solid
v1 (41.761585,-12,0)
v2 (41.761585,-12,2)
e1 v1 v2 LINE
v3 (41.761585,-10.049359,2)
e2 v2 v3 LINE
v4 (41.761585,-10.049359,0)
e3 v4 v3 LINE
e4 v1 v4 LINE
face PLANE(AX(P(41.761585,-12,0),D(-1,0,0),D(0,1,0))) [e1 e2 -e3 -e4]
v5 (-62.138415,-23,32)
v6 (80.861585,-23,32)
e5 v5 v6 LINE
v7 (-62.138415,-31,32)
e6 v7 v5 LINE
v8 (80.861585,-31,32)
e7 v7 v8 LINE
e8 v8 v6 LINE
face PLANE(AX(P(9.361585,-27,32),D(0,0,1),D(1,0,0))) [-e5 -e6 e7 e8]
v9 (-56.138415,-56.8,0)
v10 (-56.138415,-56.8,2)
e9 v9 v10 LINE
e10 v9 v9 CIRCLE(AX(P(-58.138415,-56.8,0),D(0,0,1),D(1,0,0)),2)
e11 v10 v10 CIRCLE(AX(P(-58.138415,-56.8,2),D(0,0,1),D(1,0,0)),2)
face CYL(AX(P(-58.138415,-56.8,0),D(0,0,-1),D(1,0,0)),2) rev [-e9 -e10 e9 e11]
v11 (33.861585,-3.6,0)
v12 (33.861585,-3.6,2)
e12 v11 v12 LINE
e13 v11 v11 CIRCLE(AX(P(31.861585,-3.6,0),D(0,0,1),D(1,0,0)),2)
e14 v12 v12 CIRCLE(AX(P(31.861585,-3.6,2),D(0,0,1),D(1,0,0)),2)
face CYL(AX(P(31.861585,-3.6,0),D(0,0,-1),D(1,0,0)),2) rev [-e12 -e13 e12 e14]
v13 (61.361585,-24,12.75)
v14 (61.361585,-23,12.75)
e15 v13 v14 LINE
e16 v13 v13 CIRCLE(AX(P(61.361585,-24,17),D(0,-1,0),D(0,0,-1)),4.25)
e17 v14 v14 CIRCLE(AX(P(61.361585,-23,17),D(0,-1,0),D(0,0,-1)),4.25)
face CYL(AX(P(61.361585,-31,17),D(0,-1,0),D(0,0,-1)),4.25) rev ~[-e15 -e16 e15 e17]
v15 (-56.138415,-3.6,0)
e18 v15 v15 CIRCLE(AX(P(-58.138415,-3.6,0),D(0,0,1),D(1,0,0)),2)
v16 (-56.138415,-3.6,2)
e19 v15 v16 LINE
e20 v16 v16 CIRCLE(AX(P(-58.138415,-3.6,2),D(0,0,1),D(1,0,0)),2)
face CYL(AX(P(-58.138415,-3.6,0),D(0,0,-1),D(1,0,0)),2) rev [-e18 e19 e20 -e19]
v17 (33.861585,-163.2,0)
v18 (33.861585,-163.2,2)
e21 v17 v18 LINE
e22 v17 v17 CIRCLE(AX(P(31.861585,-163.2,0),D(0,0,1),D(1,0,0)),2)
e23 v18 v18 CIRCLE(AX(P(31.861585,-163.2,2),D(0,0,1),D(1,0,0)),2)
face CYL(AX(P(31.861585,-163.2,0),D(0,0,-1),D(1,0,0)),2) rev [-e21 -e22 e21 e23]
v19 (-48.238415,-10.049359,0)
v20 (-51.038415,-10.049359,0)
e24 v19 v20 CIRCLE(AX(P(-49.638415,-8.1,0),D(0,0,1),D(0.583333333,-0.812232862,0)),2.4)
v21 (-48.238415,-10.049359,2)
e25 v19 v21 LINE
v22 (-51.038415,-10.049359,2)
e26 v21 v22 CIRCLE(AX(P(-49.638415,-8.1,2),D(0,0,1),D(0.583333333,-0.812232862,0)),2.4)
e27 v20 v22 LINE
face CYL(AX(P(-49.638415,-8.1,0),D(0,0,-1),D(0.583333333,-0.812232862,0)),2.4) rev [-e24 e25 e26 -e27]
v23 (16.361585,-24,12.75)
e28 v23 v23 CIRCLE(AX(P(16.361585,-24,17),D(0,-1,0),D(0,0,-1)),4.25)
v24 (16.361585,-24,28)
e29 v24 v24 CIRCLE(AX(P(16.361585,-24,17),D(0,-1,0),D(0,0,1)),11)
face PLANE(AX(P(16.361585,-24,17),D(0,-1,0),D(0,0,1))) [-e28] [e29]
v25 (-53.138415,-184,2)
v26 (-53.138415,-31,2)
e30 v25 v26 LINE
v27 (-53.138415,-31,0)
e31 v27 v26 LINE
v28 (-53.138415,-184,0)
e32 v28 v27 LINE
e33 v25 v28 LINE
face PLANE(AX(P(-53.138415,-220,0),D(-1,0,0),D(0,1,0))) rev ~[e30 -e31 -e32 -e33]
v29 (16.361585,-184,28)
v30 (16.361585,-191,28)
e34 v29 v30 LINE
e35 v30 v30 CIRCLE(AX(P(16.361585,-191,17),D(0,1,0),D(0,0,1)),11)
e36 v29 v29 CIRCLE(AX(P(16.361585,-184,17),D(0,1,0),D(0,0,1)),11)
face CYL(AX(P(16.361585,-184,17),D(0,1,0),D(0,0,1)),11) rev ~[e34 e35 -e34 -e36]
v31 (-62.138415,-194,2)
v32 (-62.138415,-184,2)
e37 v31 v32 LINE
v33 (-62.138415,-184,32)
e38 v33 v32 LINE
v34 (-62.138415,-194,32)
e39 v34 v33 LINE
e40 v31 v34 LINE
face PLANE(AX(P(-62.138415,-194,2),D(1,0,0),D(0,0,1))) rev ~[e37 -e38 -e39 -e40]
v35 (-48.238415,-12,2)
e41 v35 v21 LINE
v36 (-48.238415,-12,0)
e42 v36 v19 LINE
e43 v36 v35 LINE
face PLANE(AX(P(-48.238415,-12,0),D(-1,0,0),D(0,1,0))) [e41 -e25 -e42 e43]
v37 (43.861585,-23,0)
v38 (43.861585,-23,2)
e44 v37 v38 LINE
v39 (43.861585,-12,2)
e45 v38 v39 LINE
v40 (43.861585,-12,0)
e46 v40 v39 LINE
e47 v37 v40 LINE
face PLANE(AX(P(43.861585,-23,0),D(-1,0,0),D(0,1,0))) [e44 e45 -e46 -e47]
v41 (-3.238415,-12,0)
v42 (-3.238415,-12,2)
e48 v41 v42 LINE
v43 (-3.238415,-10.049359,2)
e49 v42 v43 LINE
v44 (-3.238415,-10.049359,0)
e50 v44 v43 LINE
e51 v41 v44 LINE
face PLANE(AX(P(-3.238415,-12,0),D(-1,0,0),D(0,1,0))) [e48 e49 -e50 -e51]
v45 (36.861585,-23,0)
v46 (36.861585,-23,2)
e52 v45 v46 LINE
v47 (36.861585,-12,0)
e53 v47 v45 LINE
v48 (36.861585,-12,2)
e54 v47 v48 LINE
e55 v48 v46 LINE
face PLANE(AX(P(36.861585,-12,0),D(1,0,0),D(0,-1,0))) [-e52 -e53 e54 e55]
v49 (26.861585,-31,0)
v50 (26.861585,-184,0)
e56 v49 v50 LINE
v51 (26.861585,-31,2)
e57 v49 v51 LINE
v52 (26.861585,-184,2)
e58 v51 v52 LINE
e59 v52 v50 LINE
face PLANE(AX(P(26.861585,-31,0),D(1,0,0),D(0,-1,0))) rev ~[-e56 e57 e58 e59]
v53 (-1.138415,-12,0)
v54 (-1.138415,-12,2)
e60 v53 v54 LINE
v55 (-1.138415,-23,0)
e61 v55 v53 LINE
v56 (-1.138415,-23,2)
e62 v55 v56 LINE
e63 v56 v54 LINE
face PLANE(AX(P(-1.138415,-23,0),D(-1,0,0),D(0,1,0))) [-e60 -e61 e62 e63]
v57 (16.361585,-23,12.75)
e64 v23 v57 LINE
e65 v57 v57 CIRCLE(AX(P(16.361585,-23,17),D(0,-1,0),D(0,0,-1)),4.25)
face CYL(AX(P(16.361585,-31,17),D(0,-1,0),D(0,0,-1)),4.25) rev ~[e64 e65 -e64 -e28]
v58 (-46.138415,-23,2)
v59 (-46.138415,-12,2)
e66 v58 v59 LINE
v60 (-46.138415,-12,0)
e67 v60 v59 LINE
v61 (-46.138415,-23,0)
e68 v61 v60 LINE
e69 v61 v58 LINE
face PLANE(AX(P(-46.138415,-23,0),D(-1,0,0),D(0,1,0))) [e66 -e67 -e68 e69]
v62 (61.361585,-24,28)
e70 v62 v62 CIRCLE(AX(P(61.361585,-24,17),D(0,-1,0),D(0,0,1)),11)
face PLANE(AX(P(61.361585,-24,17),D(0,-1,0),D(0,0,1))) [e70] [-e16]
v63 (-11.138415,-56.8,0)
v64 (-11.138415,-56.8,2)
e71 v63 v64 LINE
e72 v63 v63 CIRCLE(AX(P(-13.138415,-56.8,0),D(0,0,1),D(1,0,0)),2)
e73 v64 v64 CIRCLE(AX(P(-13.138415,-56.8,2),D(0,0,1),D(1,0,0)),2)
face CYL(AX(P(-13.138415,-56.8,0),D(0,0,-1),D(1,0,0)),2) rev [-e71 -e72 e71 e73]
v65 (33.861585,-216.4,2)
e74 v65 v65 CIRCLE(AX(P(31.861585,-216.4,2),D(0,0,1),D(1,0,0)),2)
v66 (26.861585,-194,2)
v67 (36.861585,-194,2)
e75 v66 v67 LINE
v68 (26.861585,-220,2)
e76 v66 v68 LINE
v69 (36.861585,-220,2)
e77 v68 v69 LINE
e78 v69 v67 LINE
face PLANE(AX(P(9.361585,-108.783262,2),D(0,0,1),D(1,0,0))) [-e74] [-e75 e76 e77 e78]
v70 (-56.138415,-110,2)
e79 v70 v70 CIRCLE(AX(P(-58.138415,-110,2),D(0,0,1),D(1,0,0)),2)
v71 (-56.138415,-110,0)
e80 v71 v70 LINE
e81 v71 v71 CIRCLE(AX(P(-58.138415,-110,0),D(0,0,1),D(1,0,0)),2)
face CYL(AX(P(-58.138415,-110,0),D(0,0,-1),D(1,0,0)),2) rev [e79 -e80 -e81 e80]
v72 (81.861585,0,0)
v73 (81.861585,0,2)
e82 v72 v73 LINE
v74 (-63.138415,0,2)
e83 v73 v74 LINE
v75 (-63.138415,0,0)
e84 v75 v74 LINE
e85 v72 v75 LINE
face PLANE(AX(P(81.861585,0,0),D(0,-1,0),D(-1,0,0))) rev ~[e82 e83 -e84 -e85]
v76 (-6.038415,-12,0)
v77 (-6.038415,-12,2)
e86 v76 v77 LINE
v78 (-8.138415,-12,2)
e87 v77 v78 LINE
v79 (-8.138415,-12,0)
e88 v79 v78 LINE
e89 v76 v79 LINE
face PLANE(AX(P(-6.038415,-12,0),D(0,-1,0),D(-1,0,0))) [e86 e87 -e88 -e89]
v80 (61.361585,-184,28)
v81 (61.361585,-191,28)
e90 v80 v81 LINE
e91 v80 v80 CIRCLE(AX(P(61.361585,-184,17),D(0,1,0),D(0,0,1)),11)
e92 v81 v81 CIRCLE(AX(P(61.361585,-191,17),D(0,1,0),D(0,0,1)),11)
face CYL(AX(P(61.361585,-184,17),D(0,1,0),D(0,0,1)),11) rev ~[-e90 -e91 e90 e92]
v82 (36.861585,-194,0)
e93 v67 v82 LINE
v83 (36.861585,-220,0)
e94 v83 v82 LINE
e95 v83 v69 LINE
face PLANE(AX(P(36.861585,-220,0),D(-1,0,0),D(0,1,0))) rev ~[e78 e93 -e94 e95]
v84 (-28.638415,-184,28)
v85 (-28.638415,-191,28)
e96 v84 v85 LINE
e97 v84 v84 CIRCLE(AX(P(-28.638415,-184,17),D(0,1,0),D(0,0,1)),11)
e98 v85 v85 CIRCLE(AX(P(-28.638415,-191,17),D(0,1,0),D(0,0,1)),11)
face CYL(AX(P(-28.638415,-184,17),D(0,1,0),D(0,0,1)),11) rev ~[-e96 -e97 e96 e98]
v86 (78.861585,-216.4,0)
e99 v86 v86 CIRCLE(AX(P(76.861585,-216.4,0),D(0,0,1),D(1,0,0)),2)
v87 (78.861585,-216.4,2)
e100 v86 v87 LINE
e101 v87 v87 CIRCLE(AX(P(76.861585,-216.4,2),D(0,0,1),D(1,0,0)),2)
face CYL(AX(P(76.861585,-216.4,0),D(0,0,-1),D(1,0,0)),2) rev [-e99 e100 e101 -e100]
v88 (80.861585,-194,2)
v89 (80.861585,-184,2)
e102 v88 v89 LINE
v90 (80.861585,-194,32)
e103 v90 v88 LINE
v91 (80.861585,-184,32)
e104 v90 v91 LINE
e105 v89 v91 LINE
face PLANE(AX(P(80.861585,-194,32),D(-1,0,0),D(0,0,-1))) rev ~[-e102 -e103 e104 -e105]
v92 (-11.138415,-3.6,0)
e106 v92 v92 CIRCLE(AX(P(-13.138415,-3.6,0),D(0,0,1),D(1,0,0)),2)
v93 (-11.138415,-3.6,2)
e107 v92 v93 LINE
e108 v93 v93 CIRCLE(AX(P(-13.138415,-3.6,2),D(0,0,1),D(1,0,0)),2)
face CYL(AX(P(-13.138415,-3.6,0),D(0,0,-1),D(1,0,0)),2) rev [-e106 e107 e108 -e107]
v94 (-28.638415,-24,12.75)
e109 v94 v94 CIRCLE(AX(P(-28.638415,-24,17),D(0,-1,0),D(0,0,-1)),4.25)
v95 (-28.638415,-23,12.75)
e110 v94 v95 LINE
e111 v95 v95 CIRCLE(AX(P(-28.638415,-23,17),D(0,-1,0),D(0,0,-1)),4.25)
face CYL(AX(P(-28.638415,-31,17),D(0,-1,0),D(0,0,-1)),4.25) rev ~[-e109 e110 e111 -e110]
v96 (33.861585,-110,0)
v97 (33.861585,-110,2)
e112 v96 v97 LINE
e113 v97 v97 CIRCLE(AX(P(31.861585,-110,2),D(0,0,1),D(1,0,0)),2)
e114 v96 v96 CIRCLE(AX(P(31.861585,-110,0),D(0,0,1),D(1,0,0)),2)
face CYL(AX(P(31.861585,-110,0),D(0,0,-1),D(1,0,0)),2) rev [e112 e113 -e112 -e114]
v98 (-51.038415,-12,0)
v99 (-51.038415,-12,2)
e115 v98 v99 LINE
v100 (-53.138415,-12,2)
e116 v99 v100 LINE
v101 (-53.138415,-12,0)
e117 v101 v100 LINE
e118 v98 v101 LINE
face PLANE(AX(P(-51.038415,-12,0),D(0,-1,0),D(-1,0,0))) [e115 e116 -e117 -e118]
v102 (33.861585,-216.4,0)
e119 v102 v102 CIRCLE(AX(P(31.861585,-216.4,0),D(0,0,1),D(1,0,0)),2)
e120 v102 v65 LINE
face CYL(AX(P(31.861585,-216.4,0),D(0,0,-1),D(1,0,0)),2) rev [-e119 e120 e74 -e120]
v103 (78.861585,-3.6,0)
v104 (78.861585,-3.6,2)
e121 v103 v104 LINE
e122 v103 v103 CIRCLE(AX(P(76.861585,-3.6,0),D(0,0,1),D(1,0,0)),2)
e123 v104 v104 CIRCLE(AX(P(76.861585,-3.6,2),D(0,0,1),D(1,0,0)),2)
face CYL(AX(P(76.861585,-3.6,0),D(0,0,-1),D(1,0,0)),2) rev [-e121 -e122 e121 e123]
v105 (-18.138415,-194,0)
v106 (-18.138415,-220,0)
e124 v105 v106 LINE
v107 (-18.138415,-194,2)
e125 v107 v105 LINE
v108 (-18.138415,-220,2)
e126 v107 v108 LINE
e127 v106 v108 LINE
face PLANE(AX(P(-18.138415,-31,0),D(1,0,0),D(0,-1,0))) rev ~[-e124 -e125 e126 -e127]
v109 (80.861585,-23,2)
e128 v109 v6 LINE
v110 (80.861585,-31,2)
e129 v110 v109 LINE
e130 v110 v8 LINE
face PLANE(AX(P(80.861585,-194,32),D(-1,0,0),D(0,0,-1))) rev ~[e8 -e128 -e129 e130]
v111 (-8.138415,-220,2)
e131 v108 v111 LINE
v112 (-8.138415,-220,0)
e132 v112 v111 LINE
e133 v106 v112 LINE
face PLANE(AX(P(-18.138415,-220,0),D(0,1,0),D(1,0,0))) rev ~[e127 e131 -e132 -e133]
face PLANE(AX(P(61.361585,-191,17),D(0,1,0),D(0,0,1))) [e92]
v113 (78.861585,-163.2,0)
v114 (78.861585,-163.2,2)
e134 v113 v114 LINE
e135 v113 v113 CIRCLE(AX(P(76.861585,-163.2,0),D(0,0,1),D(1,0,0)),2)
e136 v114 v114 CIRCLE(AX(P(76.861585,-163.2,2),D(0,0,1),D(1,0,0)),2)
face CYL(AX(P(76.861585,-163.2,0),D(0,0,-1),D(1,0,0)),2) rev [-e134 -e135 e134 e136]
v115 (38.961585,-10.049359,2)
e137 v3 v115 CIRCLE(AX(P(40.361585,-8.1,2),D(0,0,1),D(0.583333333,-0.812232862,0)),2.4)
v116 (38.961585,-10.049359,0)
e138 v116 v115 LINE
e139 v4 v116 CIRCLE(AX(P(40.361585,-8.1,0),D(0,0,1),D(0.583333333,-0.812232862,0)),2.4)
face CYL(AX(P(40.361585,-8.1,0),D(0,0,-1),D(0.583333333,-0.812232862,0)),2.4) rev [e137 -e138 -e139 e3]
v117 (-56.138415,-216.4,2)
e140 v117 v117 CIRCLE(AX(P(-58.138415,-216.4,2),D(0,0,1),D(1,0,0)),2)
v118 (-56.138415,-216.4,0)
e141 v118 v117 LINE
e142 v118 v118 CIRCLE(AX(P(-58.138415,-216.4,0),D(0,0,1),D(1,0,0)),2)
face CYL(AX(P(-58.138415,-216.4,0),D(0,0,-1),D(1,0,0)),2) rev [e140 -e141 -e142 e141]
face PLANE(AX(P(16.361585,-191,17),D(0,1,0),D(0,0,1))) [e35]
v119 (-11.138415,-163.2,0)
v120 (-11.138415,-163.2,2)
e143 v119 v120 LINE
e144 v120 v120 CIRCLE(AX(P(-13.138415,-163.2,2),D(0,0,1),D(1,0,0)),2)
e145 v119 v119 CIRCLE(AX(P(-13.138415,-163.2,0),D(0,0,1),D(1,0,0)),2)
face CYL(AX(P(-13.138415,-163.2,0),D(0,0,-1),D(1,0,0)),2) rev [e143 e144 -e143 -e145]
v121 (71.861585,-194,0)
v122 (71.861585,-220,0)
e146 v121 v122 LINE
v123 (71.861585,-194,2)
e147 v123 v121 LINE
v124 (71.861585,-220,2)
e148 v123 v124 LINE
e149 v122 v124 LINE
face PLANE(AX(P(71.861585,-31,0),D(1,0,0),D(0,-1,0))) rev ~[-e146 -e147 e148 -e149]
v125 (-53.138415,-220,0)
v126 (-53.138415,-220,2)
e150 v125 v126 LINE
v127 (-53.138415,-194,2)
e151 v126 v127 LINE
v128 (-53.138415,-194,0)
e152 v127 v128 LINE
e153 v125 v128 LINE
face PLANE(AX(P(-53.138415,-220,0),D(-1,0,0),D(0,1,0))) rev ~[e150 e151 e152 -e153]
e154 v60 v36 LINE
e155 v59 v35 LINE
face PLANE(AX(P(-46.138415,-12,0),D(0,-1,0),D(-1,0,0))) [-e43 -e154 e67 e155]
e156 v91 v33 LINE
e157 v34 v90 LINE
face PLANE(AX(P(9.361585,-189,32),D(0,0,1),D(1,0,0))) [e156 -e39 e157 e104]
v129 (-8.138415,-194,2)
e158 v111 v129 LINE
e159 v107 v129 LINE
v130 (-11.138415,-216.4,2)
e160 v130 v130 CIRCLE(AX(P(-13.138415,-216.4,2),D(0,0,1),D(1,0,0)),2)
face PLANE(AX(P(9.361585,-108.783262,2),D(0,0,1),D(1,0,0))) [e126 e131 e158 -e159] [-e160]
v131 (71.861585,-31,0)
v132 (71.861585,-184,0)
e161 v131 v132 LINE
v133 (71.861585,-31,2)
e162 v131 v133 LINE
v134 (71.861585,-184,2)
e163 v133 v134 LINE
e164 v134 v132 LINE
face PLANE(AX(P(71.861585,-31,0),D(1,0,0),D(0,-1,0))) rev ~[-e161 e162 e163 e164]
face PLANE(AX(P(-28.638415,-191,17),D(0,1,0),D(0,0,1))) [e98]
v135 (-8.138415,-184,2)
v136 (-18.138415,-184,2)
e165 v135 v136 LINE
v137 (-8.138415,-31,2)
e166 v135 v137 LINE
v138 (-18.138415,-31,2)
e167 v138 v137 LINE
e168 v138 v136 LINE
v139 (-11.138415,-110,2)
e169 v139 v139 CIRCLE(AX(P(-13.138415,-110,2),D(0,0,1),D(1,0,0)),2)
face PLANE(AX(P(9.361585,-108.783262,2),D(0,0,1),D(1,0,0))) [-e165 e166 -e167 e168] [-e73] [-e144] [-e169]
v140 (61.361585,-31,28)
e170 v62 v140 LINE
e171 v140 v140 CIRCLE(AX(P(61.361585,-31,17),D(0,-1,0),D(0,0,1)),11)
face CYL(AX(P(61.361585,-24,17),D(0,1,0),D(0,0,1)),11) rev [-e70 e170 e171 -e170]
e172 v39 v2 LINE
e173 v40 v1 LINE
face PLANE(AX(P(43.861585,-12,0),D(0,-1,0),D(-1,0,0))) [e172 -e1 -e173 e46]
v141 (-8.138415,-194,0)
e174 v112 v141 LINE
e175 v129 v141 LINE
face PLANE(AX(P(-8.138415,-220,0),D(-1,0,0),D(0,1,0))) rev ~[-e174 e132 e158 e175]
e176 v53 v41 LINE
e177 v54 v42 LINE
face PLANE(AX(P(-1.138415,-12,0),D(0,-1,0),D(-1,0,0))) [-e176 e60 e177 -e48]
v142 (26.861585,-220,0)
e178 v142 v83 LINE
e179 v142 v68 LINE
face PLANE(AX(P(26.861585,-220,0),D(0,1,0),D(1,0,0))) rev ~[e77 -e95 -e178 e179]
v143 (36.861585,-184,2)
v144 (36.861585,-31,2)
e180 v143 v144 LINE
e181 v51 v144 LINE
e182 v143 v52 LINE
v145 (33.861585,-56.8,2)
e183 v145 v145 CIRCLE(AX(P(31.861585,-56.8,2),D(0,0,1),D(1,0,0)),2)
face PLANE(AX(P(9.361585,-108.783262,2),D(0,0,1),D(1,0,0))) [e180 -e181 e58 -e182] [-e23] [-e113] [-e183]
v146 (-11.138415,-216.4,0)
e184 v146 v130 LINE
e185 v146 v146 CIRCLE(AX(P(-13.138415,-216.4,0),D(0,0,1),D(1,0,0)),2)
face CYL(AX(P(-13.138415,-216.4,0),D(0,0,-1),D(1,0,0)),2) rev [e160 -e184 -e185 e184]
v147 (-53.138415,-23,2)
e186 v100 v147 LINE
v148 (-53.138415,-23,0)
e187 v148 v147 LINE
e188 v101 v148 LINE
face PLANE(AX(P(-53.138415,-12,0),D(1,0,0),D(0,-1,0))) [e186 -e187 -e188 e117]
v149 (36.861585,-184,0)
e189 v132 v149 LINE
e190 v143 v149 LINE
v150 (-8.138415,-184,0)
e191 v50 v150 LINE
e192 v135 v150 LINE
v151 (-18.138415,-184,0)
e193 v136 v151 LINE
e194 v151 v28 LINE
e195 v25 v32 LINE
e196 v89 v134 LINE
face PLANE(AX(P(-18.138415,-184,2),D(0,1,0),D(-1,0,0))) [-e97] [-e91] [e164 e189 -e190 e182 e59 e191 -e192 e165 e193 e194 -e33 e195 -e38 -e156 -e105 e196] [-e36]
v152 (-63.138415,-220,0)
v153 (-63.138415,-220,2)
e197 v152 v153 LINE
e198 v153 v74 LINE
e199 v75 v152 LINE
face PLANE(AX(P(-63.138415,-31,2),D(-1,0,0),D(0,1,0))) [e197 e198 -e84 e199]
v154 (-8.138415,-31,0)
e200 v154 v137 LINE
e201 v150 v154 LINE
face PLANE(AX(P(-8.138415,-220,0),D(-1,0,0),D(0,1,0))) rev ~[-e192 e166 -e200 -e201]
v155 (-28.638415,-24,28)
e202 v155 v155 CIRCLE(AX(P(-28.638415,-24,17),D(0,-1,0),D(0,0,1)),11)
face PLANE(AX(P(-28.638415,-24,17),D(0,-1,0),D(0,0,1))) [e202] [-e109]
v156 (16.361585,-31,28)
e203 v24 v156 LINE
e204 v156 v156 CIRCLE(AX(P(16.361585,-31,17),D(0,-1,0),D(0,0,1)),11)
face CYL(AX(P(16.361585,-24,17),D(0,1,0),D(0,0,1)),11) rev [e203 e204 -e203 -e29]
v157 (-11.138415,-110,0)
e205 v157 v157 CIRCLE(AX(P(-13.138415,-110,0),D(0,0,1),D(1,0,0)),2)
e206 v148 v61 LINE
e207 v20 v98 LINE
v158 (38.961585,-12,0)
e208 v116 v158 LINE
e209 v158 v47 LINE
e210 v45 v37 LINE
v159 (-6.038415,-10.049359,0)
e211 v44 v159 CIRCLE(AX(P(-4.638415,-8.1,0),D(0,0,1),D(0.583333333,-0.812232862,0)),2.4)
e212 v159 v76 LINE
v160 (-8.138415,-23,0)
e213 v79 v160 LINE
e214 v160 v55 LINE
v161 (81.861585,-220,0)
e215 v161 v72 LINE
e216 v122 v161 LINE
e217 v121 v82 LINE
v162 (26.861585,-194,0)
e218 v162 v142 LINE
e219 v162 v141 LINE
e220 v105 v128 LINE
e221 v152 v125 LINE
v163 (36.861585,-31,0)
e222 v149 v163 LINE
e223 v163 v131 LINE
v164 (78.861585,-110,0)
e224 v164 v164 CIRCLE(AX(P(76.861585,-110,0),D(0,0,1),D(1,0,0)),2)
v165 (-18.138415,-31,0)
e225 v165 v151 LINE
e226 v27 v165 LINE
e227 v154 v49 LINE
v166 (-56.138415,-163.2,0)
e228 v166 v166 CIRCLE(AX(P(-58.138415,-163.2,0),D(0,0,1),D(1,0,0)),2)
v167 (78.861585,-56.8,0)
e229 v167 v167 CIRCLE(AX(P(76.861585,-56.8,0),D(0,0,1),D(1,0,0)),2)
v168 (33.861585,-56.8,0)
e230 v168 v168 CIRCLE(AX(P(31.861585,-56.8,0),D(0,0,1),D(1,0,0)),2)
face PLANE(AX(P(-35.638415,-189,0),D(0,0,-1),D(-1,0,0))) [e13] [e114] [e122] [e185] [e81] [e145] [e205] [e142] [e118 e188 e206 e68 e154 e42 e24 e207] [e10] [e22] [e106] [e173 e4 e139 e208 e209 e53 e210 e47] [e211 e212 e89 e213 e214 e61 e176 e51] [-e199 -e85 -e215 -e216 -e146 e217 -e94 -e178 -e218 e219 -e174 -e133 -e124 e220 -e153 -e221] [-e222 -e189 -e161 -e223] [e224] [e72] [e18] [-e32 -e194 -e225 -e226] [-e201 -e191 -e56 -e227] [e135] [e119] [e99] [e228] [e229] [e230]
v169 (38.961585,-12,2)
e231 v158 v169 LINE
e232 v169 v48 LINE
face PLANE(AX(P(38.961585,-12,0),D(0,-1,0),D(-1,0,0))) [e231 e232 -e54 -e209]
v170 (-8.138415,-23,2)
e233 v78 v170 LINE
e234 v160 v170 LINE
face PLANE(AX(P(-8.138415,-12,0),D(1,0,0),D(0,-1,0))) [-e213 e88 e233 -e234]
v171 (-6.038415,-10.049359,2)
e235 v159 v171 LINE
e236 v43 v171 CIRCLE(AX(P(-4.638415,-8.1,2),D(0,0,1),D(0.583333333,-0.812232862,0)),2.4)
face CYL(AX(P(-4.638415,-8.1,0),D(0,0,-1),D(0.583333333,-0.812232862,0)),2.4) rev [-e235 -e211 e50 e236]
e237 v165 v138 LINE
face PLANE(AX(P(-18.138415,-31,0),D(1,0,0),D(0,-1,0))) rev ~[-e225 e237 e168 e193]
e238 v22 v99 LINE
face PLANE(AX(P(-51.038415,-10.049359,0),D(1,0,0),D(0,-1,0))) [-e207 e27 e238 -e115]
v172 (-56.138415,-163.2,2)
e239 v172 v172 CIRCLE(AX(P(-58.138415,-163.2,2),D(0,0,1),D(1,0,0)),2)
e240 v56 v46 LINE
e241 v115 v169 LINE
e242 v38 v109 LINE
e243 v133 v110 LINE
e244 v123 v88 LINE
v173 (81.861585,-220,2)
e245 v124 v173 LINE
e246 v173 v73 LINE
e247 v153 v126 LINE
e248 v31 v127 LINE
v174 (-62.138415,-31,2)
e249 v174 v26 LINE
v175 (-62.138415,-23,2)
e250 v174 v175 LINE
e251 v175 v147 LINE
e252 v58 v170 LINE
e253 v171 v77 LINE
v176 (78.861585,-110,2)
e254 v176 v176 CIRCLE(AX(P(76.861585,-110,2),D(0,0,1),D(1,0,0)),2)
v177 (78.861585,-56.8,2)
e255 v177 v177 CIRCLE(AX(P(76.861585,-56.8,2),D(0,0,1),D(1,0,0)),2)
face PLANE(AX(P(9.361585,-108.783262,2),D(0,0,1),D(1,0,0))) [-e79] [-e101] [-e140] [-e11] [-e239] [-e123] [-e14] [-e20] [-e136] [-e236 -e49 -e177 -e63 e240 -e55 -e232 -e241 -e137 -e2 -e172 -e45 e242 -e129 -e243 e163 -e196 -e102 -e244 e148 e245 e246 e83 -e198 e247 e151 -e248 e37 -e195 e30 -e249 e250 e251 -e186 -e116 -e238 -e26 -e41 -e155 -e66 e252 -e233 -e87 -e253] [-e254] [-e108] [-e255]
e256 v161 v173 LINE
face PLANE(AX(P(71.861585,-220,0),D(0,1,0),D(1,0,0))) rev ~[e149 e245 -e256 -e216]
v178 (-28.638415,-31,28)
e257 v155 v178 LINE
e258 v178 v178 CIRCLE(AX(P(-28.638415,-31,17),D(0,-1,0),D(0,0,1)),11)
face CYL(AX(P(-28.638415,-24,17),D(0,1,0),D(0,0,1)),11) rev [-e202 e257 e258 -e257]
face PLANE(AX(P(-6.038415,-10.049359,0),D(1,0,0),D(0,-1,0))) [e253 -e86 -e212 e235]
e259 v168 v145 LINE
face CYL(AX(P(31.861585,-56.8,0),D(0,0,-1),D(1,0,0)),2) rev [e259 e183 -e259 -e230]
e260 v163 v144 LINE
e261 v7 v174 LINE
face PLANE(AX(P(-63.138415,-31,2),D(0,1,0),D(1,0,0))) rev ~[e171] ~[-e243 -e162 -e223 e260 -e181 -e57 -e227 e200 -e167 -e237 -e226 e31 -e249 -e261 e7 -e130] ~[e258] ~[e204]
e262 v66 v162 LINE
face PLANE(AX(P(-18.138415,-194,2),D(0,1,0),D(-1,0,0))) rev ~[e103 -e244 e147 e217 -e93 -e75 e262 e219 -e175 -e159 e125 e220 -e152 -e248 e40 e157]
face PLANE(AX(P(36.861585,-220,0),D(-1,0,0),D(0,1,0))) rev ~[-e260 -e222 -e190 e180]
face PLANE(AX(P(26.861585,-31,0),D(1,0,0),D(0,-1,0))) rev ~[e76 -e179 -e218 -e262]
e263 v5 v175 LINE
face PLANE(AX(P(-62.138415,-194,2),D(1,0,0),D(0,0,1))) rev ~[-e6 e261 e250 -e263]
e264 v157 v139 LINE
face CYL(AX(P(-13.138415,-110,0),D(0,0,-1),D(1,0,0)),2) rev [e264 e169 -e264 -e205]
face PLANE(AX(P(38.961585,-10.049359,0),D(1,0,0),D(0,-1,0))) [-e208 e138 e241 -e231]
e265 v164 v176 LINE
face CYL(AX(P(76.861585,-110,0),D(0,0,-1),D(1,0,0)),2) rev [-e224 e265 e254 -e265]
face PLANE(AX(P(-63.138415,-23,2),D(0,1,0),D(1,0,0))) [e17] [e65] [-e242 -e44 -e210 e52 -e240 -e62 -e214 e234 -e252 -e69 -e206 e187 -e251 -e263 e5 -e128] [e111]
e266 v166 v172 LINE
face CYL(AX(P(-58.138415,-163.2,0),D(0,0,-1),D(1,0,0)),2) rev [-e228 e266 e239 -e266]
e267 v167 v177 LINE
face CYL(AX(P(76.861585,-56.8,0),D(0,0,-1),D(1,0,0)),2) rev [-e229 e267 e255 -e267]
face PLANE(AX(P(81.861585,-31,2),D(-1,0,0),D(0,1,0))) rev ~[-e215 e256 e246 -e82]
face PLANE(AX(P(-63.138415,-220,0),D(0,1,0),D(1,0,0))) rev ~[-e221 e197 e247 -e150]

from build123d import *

# Parameters (mm, degrees)
SZKIC4_R                    = 2
DODANIE_WYCI_GNI_CIE1_DEPTH = 2
DODANIE_WYCI_GNI_CIE2_DEPTH = 30
SZKIC6_W                    = 35
SZKIC6_H                    = 10
DODANIE_WYCI_GNI_CIE3_DEPTH = 2
SZKIC7_R                    = 11
WYTNIJ_WYCI_GNI_CIE1_DEPTH  = 7
SZKIC7_4_R                  = 11
WYTNIJ_WYCI_GNI_CIE2_DEPTH  = 7
SZKIC7_5_R                  = 11
WYTNIJ_WYCI_GNI_CIE3_DEPTH  = 7
SZKIC12_W                   = 145
SZKIC12_H                   = 8
DODANIE_WYCI_GNI_CIE5_DEPTH = 30
SZKIC13_R                   = 4.25
WYTNIJ_WYCI_GNI_CIE9_DEPTH  = 59
WYTNIJ_WYCI_GNI_CIE10_START = -7
SZKIC13_3_R                 = 11
WYTNIJ_WYCI_GNI_CIE10_DEPTH = 7
WYTNIJ_WYCI_GNI_CIE11_DEPTH = 178


with BuildPart() as part:
    # Szkic4 → Dodanie-wyciągnięcie1 (new body)
    with BuildSketch(Plane.XY):
        Polygon((71.861585453, -220), (81.861585453, -220), (81.861585453, 0), (-63.138414547, 0), (-63.138414547, -220), (-53.138414547, -220), (-53.138414547, -31), (-18.138414547, -31), (-18.138414547, -220), (-8.138414547, -220), (-8.138414547, -31), (26.861585453, -31), (26.861585453, -220), (36.861585453, -220), (36.861585453, -31), (71.861585453, -31), align=None)
        with Locations((76.861585453, -3.6)):
            Circle(SZKIC4_R, mode=Mode.SUBTRACT)
        with Locations((31.861585453, -3.6)):
            Circle(SZKIC4_R, mode=Mode.SUBTRACT)
        with Locations((-13.138414547, -3.6)):
            Circle(SZKIC4_R, mode=Mode.SUBTRACT)
        with Locations((-58.138414547, -3.6)):
            Circle(SZKIC4_R, mode=Mode.SUBTRACT)
        with Locations((76.861585453, -56.8)):
            Circle(SZKIC4_R, mode=Mode.SUBTRACT)
        with Locations((31.861585453, -56.8)):
            Circle(SZKIC4_R, mode=Mode.SUBTRACT)
        with Locations((-13.138414547, -56.8)):
            Circle(SZKIC4_R, mode=Mode.SUBTRACT)
        with Locations((76.861585453, -110)):
            Circle(SZKIC4_R, mode=Mode.SUBTRACT)
        with Locations((31.861585453, -110)):
            Circle(SZKIC4_R, mode=Mode.SUBTRACT)
        with Locations((-13.138414547, -110)):
            Circle(SZKIC4_R, mode=Mode.SUBTRACT)
        with Locations((76.861585453, -163.2)):
            Circle(SZKIC4_R, mode=Mode.SUBTRACT)
        with Locations((31.861585453, -163.2)):
            Circle(SZKIC4_R, mode=Mode.SUBTRACT)
        with Locations((-13.138414547, -163.2)):
            Circle(SZKIC4_R, mode=Mode.SUBTRACT)
        with Locations((76.861585453, -216.4)):
            Circle(SZKIC4_R, mode=Mode.SUBTRACT)
        with Locations((31.861585453, -216.4)):
            Circle(SZKIC4_R, mode=Mode.SUBTRACT)
        with Locations((-13.138414547, -216.4)):
            Circle(SZKIC4_R, mode=Mode.SUBTRACT)
        with Locations((-58.138414547, -56.8)):
            Circle(SZKIC4_R, mode=Mode.SUBTRACT)
        with Locations((-58.138414547, -110)):
            Circle(SZKIC4_R, mode=Mode.SUBTRACT)
        with Locations((-58.138414547, -163.2)):
            Circle(SZKIC4_R, mode=Mode.SUBTRACT)
        with Locations((-58.138414547, -216.4)):
            Circle(SZKIC4_R, mode=Mode.SUBTRACT)
        with BuildLine():
            Line((-48.238414547, -12), (-48.238414547, -10.049358869))
            ThreePointArc((-48.238414547, -10.049358869), (-49.638414547, -5.7), (-51.038414547, -10.049358869))
            Line((-51.038414547, -10.049358869), (-51.038414547, -12))
            Line((-51.038414547, -12), (-53.138414547, -12))
            Line((-53.138414547, -12), (-53.138414547, -23))
            Line((-53.138414547, -23), (-46.138414547, -23))
            Line((-46.138414547, -23), (-46.138414547, -12))
            Line((-46.138414547, -12), (-48.238414547, -12))
        make_face(mode=Mode.SUBTRACT)
        with BuildLine():
            Line((-3.238414547, -12), (-3.238414547, -10.049358869))
            ThreePointArc((-3.238414547, -10.049358869), (-4.638414547, -5.7), (-6.038414547, -10.049358869))
            Line((-6.038414547, -10.049358869), (-6.038414547, -12))
            Line((-6.038414547, -12), (-8.138414547, -12))
            Line((-8.138414547, -12), (-8.138414547, -23))
            Line((-8.138414547, -23), (-1.138414547, -23))
            Line((-1.138414547, -23), (-1.138414547, -12))
            Line((-1.138414547, -12), (-3.238414547, -12))
        make_face(mode=Mode.SUBTRACT)
        with BuildLine():
            Line((41.761585453, -12), (41.761585453, -10.049358869))
            ThreePointArc((41.761585453, -10.049358869), (40.361585453, -5.7), (38.961585453, -10.049358869))
            Line((38.961585453, -10.049358869), (38.961585453, -12))
            Line((38.961585453, -12), (36.861585453, -12))
            Line((36.861585453, -12), (36.861585453, -23))
            Line((36.861585453, -23), (43.861585453, -23))
            Line((43.861585453, -23), (43.861585453, -12))
            Line((43.861585453, -12), (41.761585453, -12))
        make_face(mode=Mode.SUBTRACT)
    extrude(amount=DODANIE_WYCI_GNI_CIE1_DEPTH)

    # Szkic5 → Dodanie-wyciągnięcie2 (add)
    with BuildSketch(Plane.XY.offset(2)):
        Polygon((-63.138414547, -192), (-63.138414547, -194), (81.861585453, -194), (81.861585453, -184), (-63.138414547, -184), (-63.138414547, -185), align=None)
    extrude(amount=DODANIE_WYCI_GNI_CIE2_DEPTH)

    # Szkic6 → Dodanie-wyciągnięcie3 (add)
    with BuildSketch(Plane(origin=(0, 0, 2), x_dir=(-1, 0, 0), z_dir=(0, 0, -1))):
        with Locations((35.638414547, -189)):
            Rectangle(SZKIC6_W, SZKIC6_H)
        with Locations((-9.361585453, -189)):
            Rectangle(SZKIC6_W, SZKIC6_H)
        with Locations((-54.361585453, -189)):
            Rectangle(SZKIC6_W, SZKIC6_H)
    extrude(amount=DODANIE_WYCI_GNI_CIE3_DEPTH)

    # Szkic7 → Wytnij-wyciągnięcie1 (cut)
    with BuildSketch(Plane(origin=(0, -184, 0), x_dir=(1, 0, 0), z_dir=(0, 1, 0))):
        with Locations(Location((61.361585453, -17, 0), (0, 0, 270))):
            Circle(SZKIC7_R)
    extrude(amount=-WYTNIJ_WYCI_GNI_CIE1_DEPTH, mode=Mode.SUBTRACT)

    # Szkic7<4> → Wytnij-wyciągnięcie2 (cut)
    with BuildSketch(Plane(origin=(0, -184, 0), x_dir=(1, 0, 0), z_dir=(0, 1, 0))):
        with Locations(Location((16.361585453, -17, 0), (0, 0, 270))):
            Circle(SZKIC7_4_R)
    extrude(amount=-WYTNIJ_WYCI_GNI_CIE2_DEPTH, mode=Mode.SUBTRACT)

    # Szkic7<5> → Wytnij-wyciągnięcie3 (cut)
    with BuildSketch(Plane(origin=(0, -184, 0), x_dir=(1, 0, 0), z_dir=(0, 1, 0))):
        with Locations(Location((-28.638414547, -17, 0), (0, 0, 270))):
            Circle(SZKIC7_5_R)
    extrude(amount=-WYTNIJ_WYCI_GNI_CIE3_DEPTH, mode=Mode.SUBTRACT)

    # Szkic12 → Dodanie-wyciągnięcie5 (add)
    with BuildSketch(Plane.XY.offset(2)):
        with Locations((9.361585453, -27)):
            Rectangle(SZKIC12_W, SZKIC12_H)
    extrude(amount=DODANIE_WYCI_GNI_CIE5_DEPTH)

    # Szkic13 → Wytnij-wyciągnięcie9 (cut)
    with BuildSketch(Plane.XZ.offset(31)):
        with Locations(Location((61.361585453, 17, 0), (0, 0, 270))):
            Circle(SZKIC13_R)
        with Locations(Location((16.361585453, 17, 0), (0, 0, 270))):
            Circle(SZKIC13_R)
        with Locations(Location((-28.638414547, 17, 0), (0, 0, 270))):
            Circle(SZKIC13_R)
    extrude(amount=-WYTNIJ_WYCI_GNI_CIE9_DEPTH, mode=Mode.SUBTRACT)

    # Szkic13<3> → Wytnij-wyciągnięcie10 (cut)
    with BuildSketch(Plane.XZ.offset(31).offset(WYTNIJ_WYCI_GNI_CIE10_START)):
        with Locations(Location((61.361585453, 17, 0), (0, 0, 90))):
            Circle(SZKIC13_3_R)
        with Locations(Location((16.361585453, 17, 0), (0, 0, 90))):
            Circle(SZKIC13_3_R)
        with Locations(Location((-28.638414547, 17, 0), (0, 0, 90))):
            Circle(SZKIC13_3_R)
    extrude(amount=WYTNIJ_WYCI_GNI_CIE10_DEPTH, mode=Mode.SUBTRACT)

    # Szkic14 → Wytnij-wyciągnięcie11 (cut)
    with BuildSketch(Plane.XZ.offset(194)):
        Polygon((-63.138414547, 2), (-62.138414547, 2), (-62.138414547, 31), (-62.138414547, 32), (-63.138414547, 32), align=None)
        Polygon((80.861585453, 31), (80.861585453, 2), (81.861585453, 2), (81.861585453, 32), (80.861585453, 32), align=None)
    extrude(amount=-WYTNIJ_WYCI_GNI_CIE11_DEPTH, mode=Mode.SUBTRACT)


solid = part.part
